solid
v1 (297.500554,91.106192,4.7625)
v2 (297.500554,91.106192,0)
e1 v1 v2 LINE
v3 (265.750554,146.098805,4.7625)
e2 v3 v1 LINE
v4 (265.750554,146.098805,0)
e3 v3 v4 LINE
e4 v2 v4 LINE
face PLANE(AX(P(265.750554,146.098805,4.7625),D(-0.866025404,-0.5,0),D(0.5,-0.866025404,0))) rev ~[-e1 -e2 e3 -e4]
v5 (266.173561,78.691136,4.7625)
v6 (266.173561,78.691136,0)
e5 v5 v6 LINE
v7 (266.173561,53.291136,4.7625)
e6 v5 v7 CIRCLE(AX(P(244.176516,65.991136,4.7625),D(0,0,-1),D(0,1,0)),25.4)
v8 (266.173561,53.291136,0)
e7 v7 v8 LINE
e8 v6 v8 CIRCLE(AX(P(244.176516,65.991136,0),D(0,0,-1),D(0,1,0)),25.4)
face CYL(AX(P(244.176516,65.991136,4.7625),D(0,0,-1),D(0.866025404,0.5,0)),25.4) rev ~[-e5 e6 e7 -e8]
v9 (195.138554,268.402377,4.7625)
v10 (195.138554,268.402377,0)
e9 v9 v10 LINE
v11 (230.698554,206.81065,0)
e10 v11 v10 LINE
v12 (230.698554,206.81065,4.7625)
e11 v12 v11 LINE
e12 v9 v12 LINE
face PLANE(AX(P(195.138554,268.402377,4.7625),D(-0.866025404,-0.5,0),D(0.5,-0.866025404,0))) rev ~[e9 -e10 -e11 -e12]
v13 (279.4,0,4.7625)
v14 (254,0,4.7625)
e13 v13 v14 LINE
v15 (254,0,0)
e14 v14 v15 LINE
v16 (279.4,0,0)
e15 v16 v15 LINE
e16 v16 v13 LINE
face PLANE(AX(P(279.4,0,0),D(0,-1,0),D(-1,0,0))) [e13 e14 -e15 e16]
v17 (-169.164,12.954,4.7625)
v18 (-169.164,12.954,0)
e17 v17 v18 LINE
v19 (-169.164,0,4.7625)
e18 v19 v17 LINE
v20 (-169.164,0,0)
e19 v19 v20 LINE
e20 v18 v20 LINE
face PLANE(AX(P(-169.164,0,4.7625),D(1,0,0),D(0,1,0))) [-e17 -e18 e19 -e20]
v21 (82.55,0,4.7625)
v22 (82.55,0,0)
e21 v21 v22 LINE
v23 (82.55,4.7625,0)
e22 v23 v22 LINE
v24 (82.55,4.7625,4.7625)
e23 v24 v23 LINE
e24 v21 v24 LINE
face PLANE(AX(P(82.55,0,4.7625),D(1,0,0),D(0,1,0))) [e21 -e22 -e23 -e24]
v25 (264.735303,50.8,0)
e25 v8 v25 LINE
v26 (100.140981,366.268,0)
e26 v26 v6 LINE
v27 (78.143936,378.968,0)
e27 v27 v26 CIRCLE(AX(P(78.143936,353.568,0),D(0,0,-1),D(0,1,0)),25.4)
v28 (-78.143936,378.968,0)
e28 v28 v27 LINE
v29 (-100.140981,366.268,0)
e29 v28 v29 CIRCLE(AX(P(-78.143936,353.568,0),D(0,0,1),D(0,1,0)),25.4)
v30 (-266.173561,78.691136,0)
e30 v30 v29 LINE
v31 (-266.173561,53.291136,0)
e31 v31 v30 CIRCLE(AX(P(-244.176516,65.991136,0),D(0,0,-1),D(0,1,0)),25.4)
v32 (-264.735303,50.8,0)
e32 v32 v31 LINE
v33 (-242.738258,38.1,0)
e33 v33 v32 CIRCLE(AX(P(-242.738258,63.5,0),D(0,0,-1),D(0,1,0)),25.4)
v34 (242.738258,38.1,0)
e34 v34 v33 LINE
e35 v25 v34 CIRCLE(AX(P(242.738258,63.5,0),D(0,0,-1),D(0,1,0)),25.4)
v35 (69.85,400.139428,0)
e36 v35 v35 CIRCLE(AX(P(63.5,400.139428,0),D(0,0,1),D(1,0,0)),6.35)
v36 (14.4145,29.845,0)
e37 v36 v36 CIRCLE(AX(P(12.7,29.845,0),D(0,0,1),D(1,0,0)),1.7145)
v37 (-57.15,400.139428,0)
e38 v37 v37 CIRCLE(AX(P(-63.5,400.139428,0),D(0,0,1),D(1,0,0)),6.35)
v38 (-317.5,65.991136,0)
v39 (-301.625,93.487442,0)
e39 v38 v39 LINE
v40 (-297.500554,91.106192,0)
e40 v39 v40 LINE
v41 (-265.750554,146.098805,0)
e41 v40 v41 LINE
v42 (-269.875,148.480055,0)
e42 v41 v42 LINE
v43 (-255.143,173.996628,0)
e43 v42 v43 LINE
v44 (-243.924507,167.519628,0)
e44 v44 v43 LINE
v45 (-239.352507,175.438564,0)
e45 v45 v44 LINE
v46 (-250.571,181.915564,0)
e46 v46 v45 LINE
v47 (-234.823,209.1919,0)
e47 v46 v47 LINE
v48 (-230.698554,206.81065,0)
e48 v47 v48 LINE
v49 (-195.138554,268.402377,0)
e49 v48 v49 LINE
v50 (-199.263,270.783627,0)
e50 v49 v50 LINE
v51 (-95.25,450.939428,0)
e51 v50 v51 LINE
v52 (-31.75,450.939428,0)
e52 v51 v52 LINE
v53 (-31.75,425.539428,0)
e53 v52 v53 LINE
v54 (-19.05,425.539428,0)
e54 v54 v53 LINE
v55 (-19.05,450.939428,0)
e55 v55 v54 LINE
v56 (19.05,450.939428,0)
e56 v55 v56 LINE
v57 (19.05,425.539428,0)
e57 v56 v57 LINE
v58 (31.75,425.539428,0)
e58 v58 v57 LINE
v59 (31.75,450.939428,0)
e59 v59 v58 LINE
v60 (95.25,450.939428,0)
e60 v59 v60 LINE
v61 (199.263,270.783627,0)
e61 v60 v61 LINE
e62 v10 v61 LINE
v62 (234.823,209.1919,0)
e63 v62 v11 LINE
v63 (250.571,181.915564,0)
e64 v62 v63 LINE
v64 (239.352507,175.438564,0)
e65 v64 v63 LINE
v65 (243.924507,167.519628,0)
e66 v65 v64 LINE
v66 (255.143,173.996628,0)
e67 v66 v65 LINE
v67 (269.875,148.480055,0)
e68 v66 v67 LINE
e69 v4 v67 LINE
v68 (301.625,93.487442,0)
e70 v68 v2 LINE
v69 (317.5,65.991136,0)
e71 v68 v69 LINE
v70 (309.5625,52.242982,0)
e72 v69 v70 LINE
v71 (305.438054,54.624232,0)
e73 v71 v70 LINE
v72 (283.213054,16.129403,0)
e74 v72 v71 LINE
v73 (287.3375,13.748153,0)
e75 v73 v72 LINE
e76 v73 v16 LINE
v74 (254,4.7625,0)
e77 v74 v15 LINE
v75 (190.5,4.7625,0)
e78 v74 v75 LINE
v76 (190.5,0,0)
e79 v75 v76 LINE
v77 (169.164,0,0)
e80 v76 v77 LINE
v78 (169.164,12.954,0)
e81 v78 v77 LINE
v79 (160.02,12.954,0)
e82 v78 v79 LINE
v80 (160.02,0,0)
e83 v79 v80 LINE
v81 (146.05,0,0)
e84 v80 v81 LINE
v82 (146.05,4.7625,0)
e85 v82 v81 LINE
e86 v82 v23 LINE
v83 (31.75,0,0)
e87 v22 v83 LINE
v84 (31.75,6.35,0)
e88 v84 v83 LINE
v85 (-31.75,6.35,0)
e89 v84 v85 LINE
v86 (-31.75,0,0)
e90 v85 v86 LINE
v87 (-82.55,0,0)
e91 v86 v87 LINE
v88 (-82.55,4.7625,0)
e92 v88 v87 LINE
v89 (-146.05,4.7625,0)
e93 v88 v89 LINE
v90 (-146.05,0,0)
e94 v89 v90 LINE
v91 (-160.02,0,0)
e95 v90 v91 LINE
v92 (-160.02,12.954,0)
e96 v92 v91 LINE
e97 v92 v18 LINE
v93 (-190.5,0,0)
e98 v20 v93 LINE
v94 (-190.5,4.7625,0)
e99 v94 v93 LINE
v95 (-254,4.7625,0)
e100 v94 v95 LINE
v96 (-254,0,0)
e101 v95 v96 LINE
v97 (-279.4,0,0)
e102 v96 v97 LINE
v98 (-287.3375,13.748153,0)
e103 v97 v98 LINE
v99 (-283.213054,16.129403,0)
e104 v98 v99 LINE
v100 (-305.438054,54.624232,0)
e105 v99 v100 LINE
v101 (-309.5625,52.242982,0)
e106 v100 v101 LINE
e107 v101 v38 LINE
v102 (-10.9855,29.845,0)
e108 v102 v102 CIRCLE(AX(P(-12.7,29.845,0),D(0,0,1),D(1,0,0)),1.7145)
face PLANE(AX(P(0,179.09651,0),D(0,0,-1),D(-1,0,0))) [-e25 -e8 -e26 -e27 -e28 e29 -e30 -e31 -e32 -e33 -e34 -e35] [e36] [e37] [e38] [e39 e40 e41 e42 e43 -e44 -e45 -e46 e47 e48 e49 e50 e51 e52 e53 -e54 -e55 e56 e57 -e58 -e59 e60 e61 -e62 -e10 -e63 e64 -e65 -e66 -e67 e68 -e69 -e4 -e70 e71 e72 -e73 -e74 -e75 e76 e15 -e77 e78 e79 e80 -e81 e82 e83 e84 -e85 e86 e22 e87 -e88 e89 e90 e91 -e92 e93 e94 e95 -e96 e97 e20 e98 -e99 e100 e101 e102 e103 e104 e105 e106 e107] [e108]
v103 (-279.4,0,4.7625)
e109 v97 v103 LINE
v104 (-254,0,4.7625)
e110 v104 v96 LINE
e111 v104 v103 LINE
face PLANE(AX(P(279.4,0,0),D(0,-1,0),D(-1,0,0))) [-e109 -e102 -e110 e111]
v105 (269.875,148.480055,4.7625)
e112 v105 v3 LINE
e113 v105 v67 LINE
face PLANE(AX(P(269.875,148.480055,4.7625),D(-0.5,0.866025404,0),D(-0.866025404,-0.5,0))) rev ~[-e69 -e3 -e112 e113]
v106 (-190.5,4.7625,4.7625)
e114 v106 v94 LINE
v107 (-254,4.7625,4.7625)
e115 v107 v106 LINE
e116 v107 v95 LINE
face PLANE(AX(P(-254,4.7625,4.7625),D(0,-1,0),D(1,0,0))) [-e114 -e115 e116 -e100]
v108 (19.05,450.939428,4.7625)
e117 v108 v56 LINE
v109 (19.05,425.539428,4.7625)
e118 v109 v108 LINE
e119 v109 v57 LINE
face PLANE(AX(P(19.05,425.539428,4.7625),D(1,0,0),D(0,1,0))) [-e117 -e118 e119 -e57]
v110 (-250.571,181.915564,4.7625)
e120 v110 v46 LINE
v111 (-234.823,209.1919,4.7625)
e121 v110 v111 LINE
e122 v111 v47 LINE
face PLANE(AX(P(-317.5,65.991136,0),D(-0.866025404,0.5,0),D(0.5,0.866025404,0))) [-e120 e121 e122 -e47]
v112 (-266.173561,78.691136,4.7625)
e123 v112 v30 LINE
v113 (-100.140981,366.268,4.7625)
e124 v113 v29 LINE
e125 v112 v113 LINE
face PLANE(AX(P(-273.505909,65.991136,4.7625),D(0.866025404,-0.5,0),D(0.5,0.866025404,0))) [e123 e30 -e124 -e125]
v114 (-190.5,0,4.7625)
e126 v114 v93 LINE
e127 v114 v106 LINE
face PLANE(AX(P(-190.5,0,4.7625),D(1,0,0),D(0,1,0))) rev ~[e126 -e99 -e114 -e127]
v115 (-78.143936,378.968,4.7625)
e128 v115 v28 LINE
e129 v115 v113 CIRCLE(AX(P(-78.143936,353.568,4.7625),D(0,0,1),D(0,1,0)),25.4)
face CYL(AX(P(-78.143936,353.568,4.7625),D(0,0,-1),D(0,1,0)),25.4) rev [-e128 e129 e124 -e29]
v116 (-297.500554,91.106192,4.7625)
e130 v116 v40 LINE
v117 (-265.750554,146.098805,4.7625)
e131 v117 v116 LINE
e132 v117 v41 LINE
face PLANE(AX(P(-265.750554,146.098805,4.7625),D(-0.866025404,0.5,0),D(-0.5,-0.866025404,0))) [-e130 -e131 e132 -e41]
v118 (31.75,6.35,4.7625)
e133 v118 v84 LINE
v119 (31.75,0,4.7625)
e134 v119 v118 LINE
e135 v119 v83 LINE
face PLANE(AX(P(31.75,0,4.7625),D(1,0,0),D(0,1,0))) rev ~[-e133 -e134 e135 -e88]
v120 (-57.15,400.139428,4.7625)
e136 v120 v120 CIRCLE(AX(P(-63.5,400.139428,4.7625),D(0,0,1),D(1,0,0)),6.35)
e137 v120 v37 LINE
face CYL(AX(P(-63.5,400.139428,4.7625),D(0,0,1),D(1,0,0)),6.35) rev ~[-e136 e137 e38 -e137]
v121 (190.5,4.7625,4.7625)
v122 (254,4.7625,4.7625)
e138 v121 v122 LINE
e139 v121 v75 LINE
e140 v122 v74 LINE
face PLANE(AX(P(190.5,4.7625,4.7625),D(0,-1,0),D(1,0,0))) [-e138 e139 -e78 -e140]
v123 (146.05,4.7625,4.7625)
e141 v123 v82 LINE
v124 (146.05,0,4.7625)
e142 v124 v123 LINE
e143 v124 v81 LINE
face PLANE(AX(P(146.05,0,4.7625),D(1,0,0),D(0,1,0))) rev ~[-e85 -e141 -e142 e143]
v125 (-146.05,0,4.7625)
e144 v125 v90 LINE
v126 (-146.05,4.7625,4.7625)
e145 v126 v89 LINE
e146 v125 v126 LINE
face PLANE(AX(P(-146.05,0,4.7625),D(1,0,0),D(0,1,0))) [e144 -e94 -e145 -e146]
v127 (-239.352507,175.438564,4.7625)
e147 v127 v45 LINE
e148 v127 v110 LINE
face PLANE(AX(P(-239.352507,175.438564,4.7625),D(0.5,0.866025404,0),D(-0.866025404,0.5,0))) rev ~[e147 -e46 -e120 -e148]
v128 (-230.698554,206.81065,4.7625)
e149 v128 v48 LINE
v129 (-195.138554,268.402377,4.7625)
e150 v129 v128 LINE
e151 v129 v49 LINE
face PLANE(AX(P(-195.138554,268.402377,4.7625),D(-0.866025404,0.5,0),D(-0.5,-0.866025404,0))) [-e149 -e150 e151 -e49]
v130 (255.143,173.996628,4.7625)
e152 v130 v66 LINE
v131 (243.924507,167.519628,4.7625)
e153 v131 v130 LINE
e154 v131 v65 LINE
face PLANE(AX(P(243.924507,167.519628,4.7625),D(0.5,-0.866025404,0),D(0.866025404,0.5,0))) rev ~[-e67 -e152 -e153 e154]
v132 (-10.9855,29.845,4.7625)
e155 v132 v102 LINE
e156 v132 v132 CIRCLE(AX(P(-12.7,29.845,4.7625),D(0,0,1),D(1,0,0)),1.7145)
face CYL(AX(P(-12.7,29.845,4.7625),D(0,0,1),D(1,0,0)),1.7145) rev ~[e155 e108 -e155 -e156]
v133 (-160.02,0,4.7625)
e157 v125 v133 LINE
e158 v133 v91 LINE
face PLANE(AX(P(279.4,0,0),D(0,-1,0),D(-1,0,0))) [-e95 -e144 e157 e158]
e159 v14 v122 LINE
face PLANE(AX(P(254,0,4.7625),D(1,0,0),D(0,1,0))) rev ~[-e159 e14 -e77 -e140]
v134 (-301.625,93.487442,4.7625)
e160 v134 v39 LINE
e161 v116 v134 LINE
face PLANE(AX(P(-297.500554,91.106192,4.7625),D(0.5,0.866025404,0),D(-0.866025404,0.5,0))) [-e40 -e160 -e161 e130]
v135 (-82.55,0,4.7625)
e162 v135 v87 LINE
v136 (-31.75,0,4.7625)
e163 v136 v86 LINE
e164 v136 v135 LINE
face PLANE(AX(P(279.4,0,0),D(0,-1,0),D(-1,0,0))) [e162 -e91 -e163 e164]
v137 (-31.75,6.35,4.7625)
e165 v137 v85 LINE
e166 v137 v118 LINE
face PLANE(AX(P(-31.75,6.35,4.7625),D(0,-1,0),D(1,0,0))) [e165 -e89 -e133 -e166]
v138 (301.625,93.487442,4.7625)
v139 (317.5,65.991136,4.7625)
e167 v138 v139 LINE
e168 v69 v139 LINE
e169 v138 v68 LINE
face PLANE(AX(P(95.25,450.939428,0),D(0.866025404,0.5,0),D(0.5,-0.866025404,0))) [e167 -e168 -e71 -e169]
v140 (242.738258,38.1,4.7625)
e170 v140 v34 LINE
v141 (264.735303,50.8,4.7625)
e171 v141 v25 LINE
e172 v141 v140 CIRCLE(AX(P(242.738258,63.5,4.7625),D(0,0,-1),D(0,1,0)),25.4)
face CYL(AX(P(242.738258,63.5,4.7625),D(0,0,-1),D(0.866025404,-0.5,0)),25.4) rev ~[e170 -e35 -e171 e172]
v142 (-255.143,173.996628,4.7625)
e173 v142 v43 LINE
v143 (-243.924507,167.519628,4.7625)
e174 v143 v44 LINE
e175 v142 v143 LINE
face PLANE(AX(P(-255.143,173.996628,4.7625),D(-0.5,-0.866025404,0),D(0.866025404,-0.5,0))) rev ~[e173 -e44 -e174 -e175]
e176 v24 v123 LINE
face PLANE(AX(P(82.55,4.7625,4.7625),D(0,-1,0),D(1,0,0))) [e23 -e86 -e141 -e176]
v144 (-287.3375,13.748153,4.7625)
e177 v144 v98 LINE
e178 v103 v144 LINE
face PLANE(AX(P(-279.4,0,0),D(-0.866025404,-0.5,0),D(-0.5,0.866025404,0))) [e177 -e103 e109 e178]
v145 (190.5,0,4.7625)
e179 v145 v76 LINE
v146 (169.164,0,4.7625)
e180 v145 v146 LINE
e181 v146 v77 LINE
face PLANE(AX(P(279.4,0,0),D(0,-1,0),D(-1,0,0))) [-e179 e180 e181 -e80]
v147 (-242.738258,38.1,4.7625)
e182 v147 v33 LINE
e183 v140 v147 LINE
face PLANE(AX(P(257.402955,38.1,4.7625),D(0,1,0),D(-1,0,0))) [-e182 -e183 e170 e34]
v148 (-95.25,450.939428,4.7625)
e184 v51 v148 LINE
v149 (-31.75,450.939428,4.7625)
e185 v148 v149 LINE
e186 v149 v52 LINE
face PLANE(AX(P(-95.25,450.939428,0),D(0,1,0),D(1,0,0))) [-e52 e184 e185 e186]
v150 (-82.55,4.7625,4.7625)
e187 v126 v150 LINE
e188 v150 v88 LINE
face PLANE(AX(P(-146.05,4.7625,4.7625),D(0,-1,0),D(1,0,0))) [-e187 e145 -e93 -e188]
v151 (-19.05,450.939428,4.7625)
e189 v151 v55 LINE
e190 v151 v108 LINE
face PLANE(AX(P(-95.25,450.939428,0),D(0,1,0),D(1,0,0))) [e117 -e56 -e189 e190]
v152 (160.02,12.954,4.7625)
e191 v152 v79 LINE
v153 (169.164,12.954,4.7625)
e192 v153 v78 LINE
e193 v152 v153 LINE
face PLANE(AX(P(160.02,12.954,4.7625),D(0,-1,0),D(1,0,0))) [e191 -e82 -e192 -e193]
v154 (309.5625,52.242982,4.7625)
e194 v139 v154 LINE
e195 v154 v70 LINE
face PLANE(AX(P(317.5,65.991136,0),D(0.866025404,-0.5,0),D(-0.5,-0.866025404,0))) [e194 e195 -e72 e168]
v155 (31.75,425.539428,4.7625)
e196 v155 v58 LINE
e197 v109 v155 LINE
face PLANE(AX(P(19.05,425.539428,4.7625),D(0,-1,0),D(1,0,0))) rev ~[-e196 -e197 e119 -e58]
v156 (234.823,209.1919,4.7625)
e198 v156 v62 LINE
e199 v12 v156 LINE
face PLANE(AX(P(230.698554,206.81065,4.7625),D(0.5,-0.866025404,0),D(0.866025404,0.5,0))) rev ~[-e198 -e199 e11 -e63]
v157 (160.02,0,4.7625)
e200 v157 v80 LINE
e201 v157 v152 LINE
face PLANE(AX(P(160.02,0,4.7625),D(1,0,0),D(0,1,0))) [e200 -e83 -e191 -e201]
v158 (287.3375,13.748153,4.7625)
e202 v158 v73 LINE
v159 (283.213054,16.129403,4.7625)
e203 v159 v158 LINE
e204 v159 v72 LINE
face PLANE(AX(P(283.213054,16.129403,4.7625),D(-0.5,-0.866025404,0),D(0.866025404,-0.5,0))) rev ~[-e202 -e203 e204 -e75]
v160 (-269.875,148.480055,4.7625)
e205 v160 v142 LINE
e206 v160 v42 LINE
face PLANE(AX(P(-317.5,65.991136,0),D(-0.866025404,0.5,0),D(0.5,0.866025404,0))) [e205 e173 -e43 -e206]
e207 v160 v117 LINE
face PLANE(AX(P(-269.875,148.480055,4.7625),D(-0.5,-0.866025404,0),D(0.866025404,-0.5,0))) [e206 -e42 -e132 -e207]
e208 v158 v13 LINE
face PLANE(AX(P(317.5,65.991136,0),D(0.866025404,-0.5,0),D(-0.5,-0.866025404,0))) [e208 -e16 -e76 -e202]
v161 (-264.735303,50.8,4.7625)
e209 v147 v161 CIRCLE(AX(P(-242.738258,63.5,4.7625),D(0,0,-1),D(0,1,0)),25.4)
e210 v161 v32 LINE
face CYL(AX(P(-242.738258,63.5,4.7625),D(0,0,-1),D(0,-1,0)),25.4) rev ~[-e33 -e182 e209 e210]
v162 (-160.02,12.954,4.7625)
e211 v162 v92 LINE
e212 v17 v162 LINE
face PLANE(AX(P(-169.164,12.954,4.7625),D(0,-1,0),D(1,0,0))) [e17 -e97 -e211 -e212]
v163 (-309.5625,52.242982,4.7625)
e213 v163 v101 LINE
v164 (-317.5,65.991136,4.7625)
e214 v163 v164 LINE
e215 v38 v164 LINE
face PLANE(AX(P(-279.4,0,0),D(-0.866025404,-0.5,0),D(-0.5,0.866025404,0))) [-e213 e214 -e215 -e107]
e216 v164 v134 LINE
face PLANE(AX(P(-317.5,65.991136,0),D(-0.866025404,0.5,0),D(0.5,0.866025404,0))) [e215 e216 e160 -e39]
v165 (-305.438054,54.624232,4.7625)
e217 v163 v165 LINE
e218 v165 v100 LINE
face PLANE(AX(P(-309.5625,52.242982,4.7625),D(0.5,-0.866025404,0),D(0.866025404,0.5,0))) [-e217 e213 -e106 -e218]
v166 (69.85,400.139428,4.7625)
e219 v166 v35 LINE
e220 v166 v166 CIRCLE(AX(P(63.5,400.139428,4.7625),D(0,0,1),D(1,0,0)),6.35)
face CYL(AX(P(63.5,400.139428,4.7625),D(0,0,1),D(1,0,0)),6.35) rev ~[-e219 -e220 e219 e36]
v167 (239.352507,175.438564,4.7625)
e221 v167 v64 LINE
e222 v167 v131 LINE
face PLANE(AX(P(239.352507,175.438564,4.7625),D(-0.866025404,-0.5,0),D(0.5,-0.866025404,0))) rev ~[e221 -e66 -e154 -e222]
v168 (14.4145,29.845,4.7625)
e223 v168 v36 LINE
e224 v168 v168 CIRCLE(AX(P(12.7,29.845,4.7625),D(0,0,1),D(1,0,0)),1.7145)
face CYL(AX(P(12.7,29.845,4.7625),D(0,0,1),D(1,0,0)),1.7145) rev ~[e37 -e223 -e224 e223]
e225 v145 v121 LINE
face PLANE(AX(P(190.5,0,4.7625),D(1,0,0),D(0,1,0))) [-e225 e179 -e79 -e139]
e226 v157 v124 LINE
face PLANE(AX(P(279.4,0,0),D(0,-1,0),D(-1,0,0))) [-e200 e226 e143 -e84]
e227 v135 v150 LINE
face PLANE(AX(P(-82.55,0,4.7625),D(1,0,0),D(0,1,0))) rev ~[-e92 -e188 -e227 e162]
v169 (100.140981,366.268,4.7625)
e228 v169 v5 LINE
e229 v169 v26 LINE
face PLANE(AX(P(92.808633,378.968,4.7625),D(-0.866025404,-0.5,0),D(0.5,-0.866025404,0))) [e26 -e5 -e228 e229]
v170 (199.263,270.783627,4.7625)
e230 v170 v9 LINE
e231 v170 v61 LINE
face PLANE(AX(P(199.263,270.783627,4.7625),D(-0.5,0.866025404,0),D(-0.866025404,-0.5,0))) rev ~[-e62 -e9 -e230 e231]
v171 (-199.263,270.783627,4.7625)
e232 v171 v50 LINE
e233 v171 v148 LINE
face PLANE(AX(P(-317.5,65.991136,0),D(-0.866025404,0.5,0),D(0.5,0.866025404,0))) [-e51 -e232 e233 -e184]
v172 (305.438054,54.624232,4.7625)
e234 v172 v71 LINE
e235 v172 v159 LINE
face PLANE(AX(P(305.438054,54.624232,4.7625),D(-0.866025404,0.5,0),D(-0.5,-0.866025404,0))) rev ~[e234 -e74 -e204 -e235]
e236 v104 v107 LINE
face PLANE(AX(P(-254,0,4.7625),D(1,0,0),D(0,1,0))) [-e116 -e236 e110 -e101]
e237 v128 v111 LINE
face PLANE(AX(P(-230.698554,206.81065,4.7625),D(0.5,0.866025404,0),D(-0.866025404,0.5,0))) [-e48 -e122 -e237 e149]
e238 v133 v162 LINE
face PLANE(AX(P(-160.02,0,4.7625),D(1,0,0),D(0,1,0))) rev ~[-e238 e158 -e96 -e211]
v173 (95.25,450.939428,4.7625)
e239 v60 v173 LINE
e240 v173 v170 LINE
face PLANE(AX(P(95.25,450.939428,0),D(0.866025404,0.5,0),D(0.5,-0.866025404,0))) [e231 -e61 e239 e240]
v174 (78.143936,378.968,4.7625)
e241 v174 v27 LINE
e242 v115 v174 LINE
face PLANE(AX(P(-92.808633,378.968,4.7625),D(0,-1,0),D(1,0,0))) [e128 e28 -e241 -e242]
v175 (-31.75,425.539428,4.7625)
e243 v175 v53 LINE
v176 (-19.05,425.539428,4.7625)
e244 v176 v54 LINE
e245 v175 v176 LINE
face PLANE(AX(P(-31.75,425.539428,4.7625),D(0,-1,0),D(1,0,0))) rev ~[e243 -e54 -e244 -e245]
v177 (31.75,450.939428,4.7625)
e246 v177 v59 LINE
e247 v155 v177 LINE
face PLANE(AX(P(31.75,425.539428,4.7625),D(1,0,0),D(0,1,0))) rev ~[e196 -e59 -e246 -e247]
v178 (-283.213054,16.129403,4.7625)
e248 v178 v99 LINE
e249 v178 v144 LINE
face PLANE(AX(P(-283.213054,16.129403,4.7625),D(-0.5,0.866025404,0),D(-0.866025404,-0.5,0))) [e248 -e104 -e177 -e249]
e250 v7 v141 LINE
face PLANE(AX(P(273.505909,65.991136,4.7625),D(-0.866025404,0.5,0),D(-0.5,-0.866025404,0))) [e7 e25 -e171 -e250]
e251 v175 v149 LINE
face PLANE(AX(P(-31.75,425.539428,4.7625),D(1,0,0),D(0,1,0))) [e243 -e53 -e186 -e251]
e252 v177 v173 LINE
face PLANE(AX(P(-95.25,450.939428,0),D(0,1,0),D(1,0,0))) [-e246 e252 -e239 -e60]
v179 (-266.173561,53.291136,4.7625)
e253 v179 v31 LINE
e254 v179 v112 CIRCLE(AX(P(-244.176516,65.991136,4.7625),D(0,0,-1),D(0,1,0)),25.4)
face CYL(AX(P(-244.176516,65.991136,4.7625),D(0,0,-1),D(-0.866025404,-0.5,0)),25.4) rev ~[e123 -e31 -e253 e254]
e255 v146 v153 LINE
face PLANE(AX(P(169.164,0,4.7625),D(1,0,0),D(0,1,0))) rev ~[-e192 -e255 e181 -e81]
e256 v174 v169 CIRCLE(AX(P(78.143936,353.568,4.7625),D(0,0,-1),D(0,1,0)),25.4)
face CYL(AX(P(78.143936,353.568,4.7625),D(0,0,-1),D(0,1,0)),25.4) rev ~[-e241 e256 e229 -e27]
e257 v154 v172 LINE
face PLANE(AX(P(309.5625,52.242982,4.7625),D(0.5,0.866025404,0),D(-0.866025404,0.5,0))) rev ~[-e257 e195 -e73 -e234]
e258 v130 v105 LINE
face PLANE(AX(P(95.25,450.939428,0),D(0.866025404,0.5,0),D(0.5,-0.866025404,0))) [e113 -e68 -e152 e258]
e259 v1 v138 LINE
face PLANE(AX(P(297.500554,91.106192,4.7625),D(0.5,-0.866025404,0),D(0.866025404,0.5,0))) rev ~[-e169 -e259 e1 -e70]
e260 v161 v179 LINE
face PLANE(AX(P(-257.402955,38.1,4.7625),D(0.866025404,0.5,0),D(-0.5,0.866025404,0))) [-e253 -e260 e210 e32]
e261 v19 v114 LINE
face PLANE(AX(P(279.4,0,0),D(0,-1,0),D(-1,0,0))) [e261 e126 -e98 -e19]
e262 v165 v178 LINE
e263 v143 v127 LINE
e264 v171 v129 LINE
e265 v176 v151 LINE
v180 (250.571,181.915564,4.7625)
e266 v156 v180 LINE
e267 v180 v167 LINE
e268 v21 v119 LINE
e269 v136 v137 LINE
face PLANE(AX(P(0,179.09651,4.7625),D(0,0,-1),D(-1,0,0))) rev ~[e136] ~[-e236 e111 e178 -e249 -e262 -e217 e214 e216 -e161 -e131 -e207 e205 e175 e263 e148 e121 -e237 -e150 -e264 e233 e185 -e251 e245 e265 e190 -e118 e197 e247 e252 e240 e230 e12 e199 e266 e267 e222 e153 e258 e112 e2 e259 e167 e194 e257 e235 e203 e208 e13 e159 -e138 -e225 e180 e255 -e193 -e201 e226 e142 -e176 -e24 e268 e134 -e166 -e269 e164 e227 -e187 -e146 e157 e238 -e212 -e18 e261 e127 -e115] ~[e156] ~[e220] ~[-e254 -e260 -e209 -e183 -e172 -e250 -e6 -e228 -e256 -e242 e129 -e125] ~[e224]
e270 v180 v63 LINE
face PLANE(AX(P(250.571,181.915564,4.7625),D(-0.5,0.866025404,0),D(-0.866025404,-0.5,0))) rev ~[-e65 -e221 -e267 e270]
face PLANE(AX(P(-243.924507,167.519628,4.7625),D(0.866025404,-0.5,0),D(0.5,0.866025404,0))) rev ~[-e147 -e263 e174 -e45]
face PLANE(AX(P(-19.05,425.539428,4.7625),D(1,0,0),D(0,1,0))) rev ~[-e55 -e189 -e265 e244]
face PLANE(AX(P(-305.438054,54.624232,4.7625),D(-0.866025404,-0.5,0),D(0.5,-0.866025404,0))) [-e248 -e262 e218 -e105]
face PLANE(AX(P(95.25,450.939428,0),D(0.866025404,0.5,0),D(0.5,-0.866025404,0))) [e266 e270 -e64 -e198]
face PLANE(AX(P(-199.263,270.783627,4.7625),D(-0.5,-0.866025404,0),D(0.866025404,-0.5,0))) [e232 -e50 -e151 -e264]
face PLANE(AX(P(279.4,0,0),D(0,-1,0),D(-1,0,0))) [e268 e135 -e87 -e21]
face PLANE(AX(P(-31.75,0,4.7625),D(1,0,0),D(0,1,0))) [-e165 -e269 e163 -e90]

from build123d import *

# Parameters (mm, degrees)
BOSS_EXTRUDE2_DEPTH = 4.7625
CUT_EXTRUDE1_REACH  = 553.521
FILLET1_R           = 25.4
SKETCH3_W           = 63.5
SKETCH3_H           = 4.7625
SKETCH3_H_2         = 6.35
SKETCH3_W_2         = 12.7
SKETCH3_H_3         = 25.4
CUT_EXTRUDE2_DEPTH  = 552.520896165
SKETCH4_W           = 9.144
SKETCH4_H           = 12.954
SKETCH4_R           = 1.7145
SKETCH4_R_2         = 6.35
CUT_EXTRUDE3_DEPTH  = 552.520896165


with BuildPart() as part:
    # Sketch1 → Boss-Extrude2 (new body)
    with BuildSketch(Plane.XY):
        Polygon((-95.25, 450.939427751), (95.25, 450.939427751), (317.5, 65.991135768), (279.4, 0), (-279.4, 0), (-317.5, 65.991135768), align=None)
    extrude(amount=BOSS_EXTRUDE2_DEPTH)

    # Sketch2 → Cut-Extrude1 (cut, up to next)
    with BuildSketch(Plane.XY.offset(4.7625), mode=Mode.PRIVATE) as cut_extrude1_sk1:
        Polygon((-92.808632673, 378.968), (92.808632673, 378.968), (273.505909488, 65.991135768), (257.402954744, 38.1), (-257.402954744, 38.1), (-273.505909488, 65.991135768), align=None)
    cut_extrude1_tool1 = extrude(cut_extrude1_sk1.sketch, amount=-CUT_EXTRUDE1_REACH, mode=Mode.PRIVATE) & part.part
    add(cut_extrude1_tool1.solids().sort_by_distance((0, 180.212896, 4.7625))[0], mode=Mode.SUBTRACT)

    # Fillet1
    fillet1_edges = [part.edges().sort_by_distance(p)[0] for p in [
        (-273.505909488, 65.991135768, 2.38125),
        (-92.808632673, 378.968, 2.38125),
        (92.808632673, 378.968, 2.38125),
        (273.505909488, 65.991135768, 2.38125),
        (257.402954744, 38.1, 2.38125),
        (-257.402954744, 38.1, 2.38125),
    ]]
    fillet(fillet1_edges, radius=FILLET1_R)

    # Sketch3 → Cut-Extrude2 (cut, through all)
    with BuildSketch(Plane.XY.offset(4.7625)):
        with Locations((-222.25, 2.38125)):
            Rectangle(SKETCH3_W, SKETCH3_H)
        with Locations((-114.3, 2.38125)):
            Rectangle(SKETCH3_W, SKETCH3_H)
        with Locations((0, 3.175)):
            Rectangle(SKETCH3_W, SKETCH3_H_2)
        Polygon((-199.263, 270.783627103), (-195.138554014, 268.402377103), (-230.698554014, 206.810650386), (-234.823, 209.191900386), align=None)
        Polygon((-269.875, 148.480055479), (-265.750554014, 146.098805479), (-297.500554014, 91.106192339), (-301.625, 93.487442339), align=None)
        Polygon((-309.5625, 52.242982483), (-305.438054014, 54.624232483), (-283.213054014, 16.129403285), (-287.3375, 13.748153285), align=None)
        Polygon((287.3375, 13.748153285), (309.5625, 52.242982483), (305.438054014, 54.624232483), (283.213054014, 16.129403285), align=None)
        Polygon((301.625, 93.487442339), (269.875, 148.480055479), (265.750554014, 146.098805479), (297.500554014, 91.106192339), align=None)
        Polygon((234.823, 209.191900386), (199.263, 270.783627103), (195.138554014, 268.402377103), (230.698554014, 206.810650386), align=None)
        with Locations((114.3, 2.38125)):
            Rectangle(SKETCH3_W, SKETCH3_H)
        with Locations((222.25, 2.38125)):
            Rectangle(SKETCH3_W, SKETCH3_H)
        with Locations((-25.4, 438.239427751)):
            Rectangle(SKETCH3_W_2, SKETCH3_H_3)
        with Locations((25.4, 438.239427751)):
            Rectangle(SKETCH3_W_2, SKETCH3_H_3)
    extrude(amount=-CUT_EXTRUDE2_DEPTH, mode=Mode.SUBTRACT)

    # Sketch4 → Cut-Extrude3 (cut, through all)
    with BuildSketch(Plane.XY.offset(4.7625)):
        Polygon((-239.352506919, 175.438564268), (-250.571, 181.915564268), (-255.143, 173.996627976), (-243.924506919, 167.519627976), align=None)
        with Locations((-164.592, 6.477)):
            Rectangle(SKETCH4_W, SKETCH4_H)
        with Locations((164.592, 6.477)):
            Rectangle(SKETCH4_W, SKETCH4_H)
        Polygon((250.571, 181.915564268), (239.352506919, 175.438564268), (243.924506919, 167.519627976), (255.143, 173.996627976), align=None)
        with Locations((-12.7, 29.845)):
            Circle(SKETCH4_R)
        with Locations((12.7, 29.845)):
            Circle(SKETCH4_R)
        with Locations((63.5, 400.139427751)):
            Circle(SKETCH4_R_2)
        with Locations((-63.5, 400.139427751)):
            Circle(SKETCH4_R_2)
    extrude(amount=-CUT_EXTRUDE3_DEPTH, mode=Mode.SUBTRACT)


solid = part.part
